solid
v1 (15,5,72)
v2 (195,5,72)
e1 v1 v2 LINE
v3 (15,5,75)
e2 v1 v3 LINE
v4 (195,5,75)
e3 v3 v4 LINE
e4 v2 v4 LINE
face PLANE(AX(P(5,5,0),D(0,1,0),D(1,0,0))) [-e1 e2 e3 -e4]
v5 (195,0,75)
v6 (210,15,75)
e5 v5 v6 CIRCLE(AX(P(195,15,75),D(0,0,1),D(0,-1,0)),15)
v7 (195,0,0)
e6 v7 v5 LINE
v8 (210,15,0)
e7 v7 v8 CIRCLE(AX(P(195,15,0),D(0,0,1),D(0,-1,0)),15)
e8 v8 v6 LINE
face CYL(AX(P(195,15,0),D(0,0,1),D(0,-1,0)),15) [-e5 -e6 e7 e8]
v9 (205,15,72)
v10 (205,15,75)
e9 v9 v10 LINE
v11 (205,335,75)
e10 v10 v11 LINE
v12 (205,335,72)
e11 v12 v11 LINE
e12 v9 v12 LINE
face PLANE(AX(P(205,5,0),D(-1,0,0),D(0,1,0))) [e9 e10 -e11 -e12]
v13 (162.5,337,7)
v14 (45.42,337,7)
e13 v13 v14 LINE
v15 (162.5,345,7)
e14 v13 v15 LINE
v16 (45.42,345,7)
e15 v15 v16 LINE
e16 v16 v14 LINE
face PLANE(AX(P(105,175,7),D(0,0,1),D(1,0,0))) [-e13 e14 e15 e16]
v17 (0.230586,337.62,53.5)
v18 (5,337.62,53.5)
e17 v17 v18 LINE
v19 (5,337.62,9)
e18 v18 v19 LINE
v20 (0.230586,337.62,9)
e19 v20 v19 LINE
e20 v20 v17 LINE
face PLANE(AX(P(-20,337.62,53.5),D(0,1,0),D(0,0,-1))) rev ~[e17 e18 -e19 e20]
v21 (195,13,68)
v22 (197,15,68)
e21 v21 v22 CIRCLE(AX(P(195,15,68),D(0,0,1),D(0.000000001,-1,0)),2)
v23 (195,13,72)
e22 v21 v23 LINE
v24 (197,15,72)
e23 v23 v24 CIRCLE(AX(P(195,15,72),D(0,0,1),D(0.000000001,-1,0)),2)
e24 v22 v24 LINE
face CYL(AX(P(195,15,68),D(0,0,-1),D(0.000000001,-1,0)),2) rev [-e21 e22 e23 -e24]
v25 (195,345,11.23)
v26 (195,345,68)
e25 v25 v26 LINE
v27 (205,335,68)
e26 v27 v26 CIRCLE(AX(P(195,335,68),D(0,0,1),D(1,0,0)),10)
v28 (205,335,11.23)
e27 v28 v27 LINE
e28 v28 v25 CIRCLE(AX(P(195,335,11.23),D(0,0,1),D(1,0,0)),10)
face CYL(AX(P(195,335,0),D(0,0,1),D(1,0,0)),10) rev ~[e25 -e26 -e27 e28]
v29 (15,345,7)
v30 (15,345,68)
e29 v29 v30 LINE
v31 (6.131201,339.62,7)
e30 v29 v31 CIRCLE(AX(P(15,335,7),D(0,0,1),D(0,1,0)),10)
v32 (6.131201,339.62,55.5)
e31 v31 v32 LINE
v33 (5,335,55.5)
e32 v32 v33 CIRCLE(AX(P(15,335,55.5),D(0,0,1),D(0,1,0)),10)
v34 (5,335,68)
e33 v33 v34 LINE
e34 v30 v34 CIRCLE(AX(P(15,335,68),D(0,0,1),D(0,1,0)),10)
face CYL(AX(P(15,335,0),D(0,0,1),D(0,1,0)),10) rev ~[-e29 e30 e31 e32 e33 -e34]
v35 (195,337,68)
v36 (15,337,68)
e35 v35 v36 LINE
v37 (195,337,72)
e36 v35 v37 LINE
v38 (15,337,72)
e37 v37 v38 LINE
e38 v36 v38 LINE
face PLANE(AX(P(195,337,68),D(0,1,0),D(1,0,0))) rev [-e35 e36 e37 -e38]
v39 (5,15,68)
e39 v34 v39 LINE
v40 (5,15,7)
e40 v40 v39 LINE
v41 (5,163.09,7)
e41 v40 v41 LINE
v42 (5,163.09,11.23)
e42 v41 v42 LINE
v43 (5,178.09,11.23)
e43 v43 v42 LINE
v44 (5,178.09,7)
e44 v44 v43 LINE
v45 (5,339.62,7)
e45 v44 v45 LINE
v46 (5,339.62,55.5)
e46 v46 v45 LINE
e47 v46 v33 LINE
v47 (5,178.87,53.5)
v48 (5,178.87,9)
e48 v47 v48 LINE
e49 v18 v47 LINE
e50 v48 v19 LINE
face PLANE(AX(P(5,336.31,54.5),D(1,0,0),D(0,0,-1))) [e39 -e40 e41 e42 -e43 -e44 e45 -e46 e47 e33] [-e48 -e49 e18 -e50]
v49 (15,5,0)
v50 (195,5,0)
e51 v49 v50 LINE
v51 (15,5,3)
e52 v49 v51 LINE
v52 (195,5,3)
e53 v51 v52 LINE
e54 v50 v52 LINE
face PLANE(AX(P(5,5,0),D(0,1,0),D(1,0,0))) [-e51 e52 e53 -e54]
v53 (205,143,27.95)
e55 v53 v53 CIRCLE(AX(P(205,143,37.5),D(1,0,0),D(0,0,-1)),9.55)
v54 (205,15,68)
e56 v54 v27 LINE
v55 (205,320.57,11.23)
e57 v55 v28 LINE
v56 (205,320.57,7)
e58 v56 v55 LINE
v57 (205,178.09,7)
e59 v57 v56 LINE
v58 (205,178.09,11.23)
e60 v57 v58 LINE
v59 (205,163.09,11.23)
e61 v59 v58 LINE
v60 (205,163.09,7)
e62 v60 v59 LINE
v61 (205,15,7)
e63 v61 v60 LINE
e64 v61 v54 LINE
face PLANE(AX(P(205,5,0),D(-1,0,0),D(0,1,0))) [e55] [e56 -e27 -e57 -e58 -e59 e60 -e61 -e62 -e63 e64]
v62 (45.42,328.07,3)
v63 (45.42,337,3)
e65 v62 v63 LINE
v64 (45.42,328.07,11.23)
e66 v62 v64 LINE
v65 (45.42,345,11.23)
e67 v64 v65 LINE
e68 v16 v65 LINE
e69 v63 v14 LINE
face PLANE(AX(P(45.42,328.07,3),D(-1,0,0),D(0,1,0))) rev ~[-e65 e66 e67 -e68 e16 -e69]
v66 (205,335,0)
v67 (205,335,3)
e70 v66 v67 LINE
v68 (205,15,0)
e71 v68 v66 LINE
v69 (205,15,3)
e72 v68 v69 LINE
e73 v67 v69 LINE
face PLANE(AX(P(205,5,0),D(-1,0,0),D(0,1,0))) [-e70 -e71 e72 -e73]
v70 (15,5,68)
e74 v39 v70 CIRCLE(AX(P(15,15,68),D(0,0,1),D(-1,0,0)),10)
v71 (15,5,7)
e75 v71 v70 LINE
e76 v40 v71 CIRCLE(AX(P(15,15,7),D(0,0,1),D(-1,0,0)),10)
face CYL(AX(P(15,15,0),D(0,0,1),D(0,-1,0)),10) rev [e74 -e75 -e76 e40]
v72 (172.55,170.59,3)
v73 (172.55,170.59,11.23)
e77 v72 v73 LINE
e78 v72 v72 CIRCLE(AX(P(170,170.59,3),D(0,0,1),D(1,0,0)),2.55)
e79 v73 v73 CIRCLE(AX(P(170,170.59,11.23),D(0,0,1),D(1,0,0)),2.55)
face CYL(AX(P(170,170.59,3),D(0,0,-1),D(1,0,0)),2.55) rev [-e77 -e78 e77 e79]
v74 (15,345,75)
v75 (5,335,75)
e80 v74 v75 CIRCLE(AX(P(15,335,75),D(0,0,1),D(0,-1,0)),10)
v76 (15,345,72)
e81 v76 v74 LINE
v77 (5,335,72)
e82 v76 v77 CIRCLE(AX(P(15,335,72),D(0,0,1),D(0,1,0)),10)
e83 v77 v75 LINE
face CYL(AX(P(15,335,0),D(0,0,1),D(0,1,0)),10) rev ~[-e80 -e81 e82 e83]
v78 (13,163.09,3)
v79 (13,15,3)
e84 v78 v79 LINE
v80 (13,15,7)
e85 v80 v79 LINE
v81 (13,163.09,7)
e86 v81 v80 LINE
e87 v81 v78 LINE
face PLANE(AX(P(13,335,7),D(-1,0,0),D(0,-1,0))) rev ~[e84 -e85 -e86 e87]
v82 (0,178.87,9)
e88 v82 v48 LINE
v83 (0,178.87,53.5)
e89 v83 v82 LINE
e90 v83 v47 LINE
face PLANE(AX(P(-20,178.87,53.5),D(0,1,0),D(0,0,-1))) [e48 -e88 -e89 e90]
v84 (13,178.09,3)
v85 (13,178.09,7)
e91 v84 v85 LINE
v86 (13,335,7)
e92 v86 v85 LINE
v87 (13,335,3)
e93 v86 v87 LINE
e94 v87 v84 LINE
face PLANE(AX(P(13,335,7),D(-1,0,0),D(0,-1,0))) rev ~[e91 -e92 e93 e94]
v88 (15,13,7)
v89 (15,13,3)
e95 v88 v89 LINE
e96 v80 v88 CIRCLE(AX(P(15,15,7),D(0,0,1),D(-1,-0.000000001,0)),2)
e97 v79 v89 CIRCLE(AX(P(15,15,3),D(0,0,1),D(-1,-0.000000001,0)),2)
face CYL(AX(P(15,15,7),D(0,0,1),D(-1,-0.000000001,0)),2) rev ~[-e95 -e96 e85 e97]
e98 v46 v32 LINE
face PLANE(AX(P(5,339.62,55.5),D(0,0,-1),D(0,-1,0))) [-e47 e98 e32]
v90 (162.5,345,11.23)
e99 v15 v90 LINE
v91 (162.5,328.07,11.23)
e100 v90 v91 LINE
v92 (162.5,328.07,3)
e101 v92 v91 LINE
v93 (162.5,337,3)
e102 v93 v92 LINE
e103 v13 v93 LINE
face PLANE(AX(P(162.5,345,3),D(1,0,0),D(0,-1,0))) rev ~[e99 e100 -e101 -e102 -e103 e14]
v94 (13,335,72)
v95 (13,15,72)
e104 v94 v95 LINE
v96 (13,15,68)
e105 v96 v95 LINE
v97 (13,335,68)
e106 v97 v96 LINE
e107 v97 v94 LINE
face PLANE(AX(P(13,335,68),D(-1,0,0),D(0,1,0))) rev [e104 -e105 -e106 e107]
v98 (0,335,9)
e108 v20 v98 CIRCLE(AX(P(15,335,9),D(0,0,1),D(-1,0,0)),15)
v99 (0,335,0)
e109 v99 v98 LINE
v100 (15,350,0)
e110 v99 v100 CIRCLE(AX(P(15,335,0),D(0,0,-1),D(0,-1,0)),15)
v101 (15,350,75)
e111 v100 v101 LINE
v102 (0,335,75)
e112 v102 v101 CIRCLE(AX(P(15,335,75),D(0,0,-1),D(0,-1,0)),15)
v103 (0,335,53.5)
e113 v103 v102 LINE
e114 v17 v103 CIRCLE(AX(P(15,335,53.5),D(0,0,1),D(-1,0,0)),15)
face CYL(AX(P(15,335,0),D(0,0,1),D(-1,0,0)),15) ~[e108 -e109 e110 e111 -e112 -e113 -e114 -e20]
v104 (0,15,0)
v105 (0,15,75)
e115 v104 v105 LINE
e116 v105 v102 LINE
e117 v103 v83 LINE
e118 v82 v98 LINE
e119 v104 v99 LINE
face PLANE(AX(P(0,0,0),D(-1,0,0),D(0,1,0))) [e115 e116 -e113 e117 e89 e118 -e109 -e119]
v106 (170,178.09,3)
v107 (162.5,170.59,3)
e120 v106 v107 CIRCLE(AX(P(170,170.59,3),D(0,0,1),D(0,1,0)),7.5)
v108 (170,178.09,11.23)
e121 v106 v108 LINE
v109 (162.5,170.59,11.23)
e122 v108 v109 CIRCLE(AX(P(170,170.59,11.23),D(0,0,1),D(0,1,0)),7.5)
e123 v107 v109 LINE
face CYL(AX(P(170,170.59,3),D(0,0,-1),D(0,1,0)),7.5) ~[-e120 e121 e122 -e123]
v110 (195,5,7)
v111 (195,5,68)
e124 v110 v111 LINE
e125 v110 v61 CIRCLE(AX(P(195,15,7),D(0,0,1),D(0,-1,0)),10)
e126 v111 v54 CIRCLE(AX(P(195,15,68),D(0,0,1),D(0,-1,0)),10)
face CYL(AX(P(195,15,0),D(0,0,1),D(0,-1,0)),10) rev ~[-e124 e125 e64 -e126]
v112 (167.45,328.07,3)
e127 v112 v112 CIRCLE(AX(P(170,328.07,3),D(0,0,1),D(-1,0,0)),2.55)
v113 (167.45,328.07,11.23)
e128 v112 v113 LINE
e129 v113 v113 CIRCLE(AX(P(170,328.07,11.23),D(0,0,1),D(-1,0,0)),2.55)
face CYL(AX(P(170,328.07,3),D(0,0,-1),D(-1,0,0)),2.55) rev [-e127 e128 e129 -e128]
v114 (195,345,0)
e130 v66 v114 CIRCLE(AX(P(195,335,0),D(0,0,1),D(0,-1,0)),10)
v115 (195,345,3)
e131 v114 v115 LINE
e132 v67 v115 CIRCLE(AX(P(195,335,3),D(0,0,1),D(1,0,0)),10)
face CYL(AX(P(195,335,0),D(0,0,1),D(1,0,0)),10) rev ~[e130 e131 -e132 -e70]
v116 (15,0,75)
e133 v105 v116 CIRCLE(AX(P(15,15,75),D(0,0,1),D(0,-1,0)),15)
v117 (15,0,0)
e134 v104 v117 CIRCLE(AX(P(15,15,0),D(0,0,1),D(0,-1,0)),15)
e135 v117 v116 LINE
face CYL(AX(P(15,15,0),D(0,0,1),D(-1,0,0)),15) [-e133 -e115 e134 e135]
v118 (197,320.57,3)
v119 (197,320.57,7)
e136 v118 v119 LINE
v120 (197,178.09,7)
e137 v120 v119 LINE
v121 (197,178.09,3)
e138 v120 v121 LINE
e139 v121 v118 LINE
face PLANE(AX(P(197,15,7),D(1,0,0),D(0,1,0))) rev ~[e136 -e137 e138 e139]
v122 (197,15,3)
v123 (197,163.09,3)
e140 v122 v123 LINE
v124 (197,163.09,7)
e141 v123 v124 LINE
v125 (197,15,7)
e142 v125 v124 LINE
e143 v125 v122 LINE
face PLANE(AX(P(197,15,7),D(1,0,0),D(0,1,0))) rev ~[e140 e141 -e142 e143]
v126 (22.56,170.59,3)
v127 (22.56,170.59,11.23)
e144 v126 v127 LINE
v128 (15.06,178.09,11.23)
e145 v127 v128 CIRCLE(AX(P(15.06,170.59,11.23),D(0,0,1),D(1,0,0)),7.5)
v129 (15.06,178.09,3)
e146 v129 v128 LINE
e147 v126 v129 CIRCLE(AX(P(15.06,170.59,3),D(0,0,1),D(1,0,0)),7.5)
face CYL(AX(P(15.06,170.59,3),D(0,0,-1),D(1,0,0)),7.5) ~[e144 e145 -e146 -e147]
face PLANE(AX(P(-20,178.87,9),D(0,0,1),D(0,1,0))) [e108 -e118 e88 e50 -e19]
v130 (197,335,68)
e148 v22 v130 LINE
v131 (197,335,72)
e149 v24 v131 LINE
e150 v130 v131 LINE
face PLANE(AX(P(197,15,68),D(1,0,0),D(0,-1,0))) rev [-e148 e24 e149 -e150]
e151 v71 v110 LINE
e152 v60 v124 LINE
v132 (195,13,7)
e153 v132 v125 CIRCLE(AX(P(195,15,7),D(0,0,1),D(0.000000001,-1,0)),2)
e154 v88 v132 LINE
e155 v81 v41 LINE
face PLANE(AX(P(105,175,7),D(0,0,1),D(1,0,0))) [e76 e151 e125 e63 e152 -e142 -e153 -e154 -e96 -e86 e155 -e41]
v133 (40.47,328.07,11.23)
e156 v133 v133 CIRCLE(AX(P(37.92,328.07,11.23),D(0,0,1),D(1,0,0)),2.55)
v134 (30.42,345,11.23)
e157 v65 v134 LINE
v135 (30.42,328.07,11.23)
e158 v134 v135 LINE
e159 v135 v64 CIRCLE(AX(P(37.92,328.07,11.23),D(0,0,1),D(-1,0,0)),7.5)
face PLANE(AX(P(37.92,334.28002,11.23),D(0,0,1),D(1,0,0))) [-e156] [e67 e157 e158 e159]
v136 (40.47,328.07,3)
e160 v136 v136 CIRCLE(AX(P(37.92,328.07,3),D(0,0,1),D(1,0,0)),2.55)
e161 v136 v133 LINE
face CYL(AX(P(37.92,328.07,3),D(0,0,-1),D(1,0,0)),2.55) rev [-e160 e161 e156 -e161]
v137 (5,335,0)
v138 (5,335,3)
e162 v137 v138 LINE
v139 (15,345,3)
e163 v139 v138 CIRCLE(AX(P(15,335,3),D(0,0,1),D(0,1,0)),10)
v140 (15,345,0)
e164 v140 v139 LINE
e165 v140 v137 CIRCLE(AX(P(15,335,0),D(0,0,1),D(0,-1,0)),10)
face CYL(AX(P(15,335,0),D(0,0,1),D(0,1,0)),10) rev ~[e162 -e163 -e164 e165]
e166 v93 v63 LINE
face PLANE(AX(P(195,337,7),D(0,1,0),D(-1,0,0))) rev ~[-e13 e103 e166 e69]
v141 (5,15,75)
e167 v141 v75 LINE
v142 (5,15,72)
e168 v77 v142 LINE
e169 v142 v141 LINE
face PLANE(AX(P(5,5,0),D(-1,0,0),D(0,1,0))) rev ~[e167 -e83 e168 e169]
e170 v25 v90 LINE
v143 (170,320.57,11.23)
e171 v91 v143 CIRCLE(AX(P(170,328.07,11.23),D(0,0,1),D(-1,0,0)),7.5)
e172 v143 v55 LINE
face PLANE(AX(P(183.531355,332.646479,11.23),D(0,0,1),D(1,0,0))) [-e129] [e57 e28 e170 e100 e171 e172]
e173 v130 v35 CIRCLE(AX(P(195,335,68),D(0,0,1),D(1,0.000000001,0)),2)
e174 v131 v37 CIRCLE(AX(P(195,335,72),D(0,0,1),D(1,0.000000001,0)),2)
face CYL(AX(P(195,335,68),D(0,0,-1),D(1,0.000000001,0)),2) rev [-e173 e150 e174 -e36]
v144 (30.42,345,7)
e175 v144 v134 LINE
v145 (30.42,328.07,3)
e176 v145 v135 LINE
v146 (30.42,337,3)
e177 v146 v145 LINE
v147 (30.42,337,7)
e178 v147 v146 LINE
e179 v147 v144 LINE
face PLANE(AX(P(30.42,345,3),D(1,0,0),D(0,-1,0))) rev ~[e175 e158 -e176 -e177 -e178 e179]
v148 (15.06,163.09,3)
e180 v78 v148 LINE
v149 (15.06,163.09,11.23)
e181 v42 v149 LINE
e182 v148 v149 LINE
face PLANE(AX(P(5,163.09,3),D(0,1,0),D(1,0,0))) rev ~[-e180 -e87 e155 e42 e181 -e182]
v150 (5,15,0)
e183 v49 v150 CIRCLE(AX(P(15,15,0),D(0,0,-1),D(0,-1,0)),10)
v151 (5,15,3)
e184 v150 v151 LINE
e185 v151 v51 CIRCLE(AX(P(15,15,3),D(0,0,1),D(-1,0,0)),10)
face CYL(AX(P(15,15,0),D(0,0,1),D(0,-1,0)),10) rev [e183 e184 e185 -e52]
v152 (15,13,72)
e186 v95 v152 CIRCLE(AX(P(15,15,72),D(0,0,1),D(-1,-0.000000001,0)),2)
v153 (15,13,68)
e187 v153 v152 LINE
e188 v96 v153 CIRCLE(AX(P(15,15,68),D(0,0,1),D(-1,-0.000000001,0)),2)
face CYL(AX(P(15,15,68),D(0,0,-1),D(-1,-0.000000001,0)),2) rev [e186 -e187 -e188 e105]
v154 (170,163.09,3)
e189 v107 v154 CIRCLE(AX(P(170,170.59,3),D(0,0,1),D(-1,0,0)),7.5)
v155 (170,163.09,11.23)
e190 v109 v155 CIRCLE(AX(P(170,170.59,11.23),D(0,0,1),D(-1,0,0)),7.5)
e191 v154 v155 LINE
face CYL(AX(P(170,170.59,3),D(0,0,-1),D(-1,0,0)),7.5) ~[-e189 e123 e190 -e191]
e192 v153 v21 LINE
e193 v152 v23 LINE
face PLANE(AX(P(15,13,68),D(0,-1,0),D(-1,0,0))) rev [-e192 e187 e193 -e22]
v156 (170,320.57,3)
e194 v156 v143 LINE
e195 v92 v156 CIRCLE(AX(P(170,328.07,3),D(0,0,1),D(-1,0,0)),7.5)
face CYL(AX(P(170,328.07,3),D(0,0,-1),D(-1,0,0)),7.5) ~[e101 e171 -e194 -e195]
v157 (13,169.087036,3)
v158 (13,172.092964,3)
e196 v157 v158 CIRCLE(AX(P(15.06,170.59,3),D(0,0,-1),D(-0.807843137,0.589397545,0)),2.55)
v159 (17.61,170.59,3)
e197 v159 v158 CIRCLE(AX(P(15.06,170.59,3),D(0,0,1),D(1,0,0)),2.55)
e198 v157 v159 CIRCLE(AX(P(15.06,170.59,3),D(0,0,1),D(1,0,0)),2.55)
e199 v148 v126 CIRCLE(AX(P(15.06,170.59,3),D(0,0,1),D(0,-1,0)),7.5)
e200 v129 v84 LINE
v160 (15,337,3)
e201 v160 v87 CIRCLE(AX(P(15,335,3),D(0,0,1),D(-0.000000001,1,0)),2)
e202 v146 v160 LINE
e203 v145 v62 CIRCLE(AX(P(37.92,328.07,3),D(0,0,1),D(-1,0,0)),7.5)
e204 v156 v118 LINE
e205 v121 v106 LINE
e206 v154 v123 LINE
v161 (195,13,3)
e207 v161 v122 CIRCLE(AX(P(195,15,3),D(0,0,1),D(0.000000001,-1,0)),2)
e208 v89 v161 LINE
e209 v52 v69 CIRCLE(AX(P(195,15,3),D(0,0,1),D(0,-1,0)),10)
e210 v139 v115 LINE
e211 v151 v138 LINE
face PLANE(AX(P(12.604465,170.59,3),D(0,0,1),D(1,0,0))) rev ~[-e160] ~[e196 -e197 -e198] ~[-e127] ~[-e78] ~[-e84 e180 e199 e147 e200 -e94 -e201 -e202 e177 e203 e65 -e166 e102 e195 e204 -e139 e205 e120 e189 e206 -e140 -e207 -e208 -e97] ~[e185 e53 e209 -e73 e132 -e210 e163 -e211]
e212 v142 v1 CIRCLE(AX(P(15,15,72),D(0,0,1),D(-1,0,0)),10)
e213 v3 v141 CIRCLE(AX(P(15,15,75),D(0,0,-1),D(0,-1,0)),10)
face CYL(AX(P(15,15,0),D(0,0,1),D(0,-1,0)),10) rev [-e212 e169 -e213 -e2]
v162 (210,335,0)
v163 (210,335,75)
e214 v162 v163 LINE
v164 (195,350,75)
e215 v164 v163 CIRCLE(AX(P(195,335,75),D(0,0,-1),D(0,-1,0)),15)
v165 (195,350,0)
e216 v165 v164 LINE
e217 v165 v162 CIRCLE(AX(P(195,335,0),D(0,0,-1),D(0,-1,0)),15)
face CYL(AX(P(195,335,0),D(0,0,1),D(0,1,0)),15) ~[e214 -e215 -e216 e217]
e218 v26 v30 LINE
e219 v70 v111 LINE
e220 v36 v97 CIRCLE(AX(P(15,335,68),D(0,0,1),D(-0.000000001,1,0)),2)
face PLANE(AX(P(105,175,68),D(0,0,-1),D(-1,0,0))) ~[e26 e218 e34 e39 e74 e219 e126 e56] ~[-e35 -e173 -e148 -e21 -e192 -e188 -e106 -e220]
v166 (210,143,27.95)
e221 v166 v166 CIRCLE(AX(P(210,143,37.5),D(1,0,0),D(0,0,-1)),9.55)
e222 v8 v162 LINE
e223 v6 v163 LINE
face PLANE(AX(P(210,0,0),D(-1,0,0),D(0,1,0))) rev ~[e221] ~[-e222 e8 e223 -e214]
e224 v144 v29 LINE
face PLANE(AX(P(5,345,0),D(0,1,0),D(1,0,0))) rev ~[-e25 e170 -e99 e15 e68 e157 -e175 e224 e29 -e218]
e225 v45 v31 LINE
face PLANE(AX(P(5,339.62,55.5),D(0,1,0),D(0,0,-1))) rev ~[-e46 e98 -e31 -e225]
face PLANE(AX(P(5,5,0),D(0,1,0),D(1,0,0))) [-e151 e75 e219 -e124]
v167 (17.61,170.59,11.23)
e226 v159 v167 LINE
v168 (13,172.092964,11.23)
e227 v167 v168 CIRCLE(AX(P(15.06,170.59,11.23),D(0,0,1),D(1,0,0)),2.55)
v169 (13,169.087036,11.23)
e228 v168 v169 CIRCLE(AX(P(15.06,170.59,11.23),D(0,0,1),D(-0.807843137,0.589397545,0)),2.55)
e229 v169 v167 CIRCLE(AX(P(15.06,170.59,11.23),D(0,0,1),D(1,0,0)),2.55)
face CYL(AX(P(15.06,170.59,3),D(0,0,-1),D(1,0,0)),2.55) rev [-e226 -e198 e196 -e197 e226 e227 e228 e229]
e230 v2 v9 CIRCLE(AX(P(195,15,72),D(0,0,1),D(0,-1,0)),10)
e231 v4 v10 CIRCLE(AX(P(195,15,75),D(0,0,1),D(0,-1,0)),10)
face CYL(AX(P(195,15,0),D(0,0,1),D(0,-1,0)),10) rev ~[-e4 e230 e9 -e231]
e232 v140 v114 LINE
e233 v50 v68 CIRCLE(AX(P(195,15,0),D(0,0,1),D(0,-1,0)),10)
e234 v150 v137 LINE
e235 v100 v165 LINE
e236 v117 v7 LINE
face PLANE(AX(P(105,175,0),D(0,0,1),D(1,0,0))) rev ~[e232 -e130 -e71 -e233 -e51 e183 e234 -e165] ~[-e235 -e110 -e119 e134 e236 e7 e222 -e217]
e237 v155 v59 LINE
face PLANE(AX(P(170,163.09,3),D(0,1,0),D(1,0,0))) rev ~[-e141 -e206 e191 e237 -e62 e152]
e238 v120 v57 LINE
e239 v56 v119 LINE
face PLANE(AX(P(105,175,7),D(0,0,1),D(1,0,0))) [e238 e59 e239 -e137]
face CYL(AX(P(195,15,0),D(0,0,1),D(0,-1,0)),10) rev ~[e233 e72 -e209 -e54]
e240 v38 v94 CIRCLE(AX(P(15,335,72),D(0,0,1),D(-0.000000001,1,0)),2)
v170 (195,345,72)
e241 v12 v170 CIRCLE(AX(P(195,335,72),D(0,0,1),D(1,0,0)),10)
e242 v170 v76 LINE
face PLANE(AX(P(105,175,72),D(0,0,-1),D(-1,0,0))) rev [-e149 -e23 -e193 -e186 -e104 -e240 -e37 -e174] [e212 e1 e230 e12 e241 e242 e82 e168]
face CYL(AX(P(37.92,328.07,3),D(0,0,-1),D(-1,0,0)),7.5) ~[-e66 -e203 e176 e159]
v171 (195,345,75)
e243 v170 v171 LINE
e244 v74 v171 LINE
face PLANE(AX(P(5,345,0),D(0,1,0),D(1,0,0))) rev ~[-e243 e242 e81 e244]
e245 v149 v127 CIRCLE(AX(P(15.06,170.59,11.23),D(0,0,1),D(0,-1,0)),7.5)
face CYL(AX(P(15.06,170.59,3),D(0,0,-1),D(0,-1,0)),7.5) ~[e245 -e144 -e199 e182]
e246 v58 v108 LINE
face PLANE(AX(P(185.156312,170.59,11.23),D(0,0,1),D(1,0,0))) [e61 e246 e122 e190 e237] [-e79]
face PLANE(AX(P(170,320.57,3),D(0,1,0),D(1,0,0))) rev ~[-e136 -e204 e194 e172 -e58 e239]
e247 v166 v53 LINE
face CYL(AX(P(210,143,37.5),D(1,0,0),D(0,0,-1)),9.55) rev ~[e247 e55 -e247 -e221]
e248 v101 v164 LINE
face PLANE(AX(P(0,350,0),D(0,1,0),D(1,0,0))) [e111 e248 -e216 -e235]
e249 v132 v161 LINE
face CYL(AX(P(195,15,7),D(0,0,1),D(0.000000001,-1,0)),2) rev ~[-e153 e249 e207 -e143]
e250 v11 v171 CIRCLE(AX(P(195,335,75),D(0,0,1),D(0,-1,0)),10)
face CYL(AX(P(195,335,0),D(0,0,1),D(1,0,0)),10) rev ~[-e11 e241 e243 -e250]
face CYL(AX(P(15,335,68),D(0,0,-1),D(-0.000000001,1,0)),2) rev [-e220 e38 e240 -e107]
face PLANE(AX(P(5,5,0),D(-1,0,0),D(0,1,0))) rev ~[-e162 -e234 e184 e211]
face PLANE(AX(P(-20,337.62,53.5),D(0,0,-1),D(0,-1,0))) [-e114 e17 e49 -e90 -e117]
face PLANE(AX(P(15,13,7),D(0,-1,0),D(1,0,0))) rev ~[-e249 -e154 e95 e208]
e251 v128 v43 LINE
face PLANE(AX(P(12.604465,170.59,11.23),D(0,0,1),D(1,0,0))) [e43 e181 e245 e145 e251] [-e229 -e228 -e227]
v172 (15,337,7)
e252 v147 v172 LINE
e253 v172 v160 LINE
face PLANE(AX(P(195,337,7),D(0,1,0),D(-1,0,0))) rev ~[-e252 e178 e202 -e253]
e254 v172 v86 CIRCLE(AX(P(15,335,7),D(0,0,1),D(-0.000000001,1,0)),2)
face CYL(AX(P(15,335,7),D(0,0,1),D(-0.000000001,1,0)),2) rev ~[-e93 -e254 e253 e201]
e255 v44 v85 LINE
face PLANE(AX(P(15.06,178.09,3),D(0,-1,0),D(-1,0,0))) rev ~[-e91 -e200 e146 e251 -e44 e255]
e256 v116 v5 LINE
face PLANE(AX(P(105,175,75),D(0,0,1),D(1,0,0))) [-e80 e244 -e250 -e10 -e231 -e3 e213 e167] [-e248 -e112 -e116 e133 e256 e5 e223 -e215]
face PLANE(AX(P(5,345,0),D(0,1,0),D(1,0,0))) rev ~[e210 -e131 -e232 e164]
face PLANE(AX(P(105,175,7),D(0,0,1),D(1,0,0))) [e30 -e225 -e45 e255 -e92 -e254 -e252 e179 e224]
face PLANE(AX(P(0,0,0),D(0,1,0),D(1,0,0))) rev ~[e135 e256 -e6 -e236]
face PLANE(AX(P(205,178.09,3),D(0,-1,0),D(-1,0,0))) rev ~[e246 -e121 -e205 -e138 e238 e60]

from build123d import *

# Parameters (mm, degrees)
SKETCH1_W               = 210
SKETCH1_H               = 350
SKETCH1_W_2             = 200
SKETCH1_H_2             = 340
BOSS_EXTRUDE1_DEPTH     = 75
FILLET1_R               = 15
FILLET2_R               = 10
BOSS_EXTRUDE2_START     = -4
BOSS_EXTRUDE2_DEPTH     = 4
CUT_EXTRUDE1_DEPTH      = 4
CUT_EXTRUDE1_DEPTH_BACK = 25
SKETCH3_W               = 44.5
SKETCH3_H               = 156.13
SKETCH3_H_2             = 2.62
SKETCH4_W               = 2
SKETCH4_H               = 2.62
CUT_EXTRUDE2_DEPTH      = 18
BOSS_EXTRUDE4_START     = -4
SKETCH5_R               = 2.55
BOSS_EXTRUDE4_DEPTH     = 8.23
SKETCH6_R               = 9.55
CUT_EXTRUDE4_DEPTH      = 22
CUT_EXTRUDE5_START      = -22
CUT_EXTRUDE5_DEPTH      = 22


with BuildPart() as part:
    # Sketch1 → Boss-Extrude1 (new body)
    with BuildSketch(Plane.XY):
        with Locations((105, 175)):
            Rectangle(SKETCH1_W, SKETCH1_H)
        with Locations((105, 175)):
            Rectangle(SKETCH1_W_2, SKETCH1_H_2, mode=Mode.SUBTRACT)
    extrude(amount=BOSS_EXTRUDE1_DEPTH)

    # Fillet1
    fillet1_edges = [part.edges().sort_by_distance(p)[0] for p in [
        (0, 350, 37.5),
        (210, 350, 37.5),
        (210, 0, 37.5),
        (0, 0, 37.5),
    ]]
    fillet(fillet1_edges, radius=FILLET1_R)

    # Fillet2
    fillet2_edges = [part.edges().sort_by_distance(p)[0] for p in [
        (5, 5, 37.5),
        (205, 5, 37.5),
        (205, 345, 37.5),
        (5, 345, 37.5),
    ]]
    fillet(fillet2_edges, radius=FILLET2_R)

    # Sketch2 → Boss-Extrude2 (add)
    with BuildSketch(Plane(origin=(0, 0, 3), x_dir=(-1, 0, 0), z_dir=(0, 0, -1)).offset(BOSS_EXTRUDE2_START)):
        with BuildLine():
            Line((-15, 5), (-195, 5))
            ThreePointArc((-195, 5), (-202.071067812, 7.928932188), (-205, 15))
            Line((-205, 15), (-205, 335))
            ThreePointArc((-205, 335), (-202.071067812, 342.071067812), (-195, 345))
            Line((-195, 345), (-15, 345))
            ThreePointArc((-15, 345), (-7.928932188, 342.071067812), (-5, 335))
            Line((-5, 335), (-5, 15))
            ThreePointArc((-5, 15), (-7.928932188, 7.928932188), (-15, 5))
        make_face()
        with BuildLine():
            Line((-13, 335), (-13, 15))
            ThreePointArc((-13, 15), (-13.585786438, 13.585786438), (-15, 13))
            Line((-15, 13), (-195, 13))
            ThreePointArc((-195, 13), (-196.414213562, 13.585786438), (-197, 15))
            Line((-197, 15), (-197, 335))
            ThreePointArc((-197, 335), (-196.414213562, 336.414213562), (-195, 337))
            Line((-195, 337), (-15, 337))
            ThreePointArc((-15, 337), (-13.585786438, 336.414213562), (-13, 335))
        make_face(mode=Mode.SUBTRACT)
    boss_extrude2 = extrude(amount=BOSS_EXTRUDE2_DEPTH)

    # Mirror1: Boss-Extrude2 across plane
    add(boss_extrude2.mirror(Plane(origin=(0, 0, 37.5), x_dir=(1, 0, 0), z_dir=(0, 0, -1))))

    # Sketch3 → Cut-Extrude1 (cut, two sides: drawn at the far end of the back side and taken through both)
    with BuildSketch(Plane(origin=(5, 0, 0), x_dir=(0, 0, -1), z_dir=(1, 0, 0)).offset(-CUT_EXTRUDE1_DEPTH_BACK)):
        with Locations((-31.25, 256.935)):
            Rectangle(SKETCH3_W, SKETCH3_H)
        with Locations((-31.25, 336.31)):
            Rectangle(SKETCH3_W, SKETCH3_H_2)
    extrude(amount=CUT_EXTRUDE1_DEPTH + CUT_EXTRUDE1_DEPTH_BACK, mode=Mode.SUBTRACT)

    # Sketch4 → Cut-Extrude2 (cut)
    with BuildSketch(Plane(origin=(5, 0, 0), x_dir=(0, 0, -1), z_dir=(1, 0, 0))):
        with Locations((-54.5, 336.31)):
            Rectangle(SKETCH4_W, SKETCH4_H)
        Polygon((-9, 337.62), (-53.5, 337.62), (-55.5, 337.62), (-55.5, 339.62), (-7, 339.62), (-7, 337.62), align=None)
        with Locations((-8, 336.31)):
            Rectangle(SKETCH4_W, SKETCH4_H)
    extrude(amount=CUT_EXTRUDE2_DEPTH, mode=Mode.SUBTRACT)

    # Sketch5 → Boss-Extrude4 (add)
    # profile 1 of 4: a face of its own
    with BuildSketch(Plane.XY.offset(7).offset(BOSS_EXTRUDE4_START)):
        with BuildLine():
            Line((15.06, 178.09), (5, 178.09))
            Line((5, 178.09), (5, 163.09))
            Line((5, 163.09), (15.06, 163.09))
            ThreePointArc((15.06, 163.09), (20.363300859, 165.286699141), (22.56, 170.59))
            ThreePointArc((22.56, 170.59), (20.363300859, 175.893300859), (15.06, 178.09))
        make_face()
        with Locations((15.06, 170.59)):
            Circle(SKETCH5_R, mode=Mode.SUBTRACT)
    # profile 2 of 4: a face of its own
    with BuildSketch(Plane.XY.offset(7).offset(BOSS_EXTRUDE4_START)):
        with BuildLine():
            Line((205, 163.09), (205, 178.09))
            Line((205, 178.09), (170, 178.09))
            ThreePointArc((170, 178.09), (164.696699141, 175.893300859), (162.5, 170.59))
            ThreePointArc((162.5, 170.59), (164.696699141, 165.286699141), (170, 163.09))
            Line((170, 163.09), (205, 163.09))
        make_face()
        with Locations((170, 170.59)):
            Circle(SKETCH5_R, mode=Mode.SUBTRACT)
    # profile 3 of 4: a face of its own
    with BuildSketch(Plane.XY.offset(7).offset(BOSS_EXTRUDE4_START)):
        with BuildLine():
            Line((195, 345), (162.5, 345))
            Line((162.5, 345), (162.5, 328.07))
            ThreePointArc((162.5, 328.07), (164.696699141, 322.766699141), (170, 320.57))
            Line((170, 320.57), (205, 320.57))
            Line((205, 320.57), (205, 335))
            ThreePointArc((205, 335), (202.071067812, 342.071067812), (195, 345))
        make_face()
        with Locations(Location((170, 328.07, 0), (0, 0, 180))):
            Circle(SKETCH5_R, mode=Mode.SUBTRACT)
    # profile 4 of 4: a face of its own
    with BuildSketch(Plane.XY.offset(7).offset(BOSS_EXTRUDE4_START)):
        with BuildLine():
            Line((45.42, 345), (30.42, 345))
            Line((30.42, 345), (30.42, 328.07))
            ThreePointArc((30.42, 328.07), (37.92, 320.57), (45.42, 328.07))
            Line((45.42, 328.07), (45.42, 345))
        make_face()
        with Locations((37.92, 328.07)):
            Circle(SKETCH5_R, mode=Mode.SUBTRACT)
    extrude(amount=BOSS_EXTRUDE4_DEPTH)

    # Sketch6 → Cut-Extrude4 (cut)
    with BuildSketch(Plane(origin=(210, 0, 0), x_dir=(0, 0, -1), z_dir=(1, 0, 0))):
        with Locations((-37.5, 143)):
            Circle(SKETCH6_R)
    extrude(amount=-CUT_EXTRUDE4_DEPTH, mode=Mode.SUBTRACT)

    # Sketch7 → Cut-Extrude5 (cut)
    with BuildSketch(Plane.XY.offset(11.23).offset(CUT_EXTRUDE5_START)):
        with BuildLine():
            Line((13, 169.087036261), (13, 172.092963739))
            ThreePointArc((13, 172.092963739), (12.51, 170.59), (13, 169.087036261))
        make_face()
    extrude(amount=CUT_EXTRUDE5_DEPTH, mode=Mode.SUBTRACT)


solid = part.part
